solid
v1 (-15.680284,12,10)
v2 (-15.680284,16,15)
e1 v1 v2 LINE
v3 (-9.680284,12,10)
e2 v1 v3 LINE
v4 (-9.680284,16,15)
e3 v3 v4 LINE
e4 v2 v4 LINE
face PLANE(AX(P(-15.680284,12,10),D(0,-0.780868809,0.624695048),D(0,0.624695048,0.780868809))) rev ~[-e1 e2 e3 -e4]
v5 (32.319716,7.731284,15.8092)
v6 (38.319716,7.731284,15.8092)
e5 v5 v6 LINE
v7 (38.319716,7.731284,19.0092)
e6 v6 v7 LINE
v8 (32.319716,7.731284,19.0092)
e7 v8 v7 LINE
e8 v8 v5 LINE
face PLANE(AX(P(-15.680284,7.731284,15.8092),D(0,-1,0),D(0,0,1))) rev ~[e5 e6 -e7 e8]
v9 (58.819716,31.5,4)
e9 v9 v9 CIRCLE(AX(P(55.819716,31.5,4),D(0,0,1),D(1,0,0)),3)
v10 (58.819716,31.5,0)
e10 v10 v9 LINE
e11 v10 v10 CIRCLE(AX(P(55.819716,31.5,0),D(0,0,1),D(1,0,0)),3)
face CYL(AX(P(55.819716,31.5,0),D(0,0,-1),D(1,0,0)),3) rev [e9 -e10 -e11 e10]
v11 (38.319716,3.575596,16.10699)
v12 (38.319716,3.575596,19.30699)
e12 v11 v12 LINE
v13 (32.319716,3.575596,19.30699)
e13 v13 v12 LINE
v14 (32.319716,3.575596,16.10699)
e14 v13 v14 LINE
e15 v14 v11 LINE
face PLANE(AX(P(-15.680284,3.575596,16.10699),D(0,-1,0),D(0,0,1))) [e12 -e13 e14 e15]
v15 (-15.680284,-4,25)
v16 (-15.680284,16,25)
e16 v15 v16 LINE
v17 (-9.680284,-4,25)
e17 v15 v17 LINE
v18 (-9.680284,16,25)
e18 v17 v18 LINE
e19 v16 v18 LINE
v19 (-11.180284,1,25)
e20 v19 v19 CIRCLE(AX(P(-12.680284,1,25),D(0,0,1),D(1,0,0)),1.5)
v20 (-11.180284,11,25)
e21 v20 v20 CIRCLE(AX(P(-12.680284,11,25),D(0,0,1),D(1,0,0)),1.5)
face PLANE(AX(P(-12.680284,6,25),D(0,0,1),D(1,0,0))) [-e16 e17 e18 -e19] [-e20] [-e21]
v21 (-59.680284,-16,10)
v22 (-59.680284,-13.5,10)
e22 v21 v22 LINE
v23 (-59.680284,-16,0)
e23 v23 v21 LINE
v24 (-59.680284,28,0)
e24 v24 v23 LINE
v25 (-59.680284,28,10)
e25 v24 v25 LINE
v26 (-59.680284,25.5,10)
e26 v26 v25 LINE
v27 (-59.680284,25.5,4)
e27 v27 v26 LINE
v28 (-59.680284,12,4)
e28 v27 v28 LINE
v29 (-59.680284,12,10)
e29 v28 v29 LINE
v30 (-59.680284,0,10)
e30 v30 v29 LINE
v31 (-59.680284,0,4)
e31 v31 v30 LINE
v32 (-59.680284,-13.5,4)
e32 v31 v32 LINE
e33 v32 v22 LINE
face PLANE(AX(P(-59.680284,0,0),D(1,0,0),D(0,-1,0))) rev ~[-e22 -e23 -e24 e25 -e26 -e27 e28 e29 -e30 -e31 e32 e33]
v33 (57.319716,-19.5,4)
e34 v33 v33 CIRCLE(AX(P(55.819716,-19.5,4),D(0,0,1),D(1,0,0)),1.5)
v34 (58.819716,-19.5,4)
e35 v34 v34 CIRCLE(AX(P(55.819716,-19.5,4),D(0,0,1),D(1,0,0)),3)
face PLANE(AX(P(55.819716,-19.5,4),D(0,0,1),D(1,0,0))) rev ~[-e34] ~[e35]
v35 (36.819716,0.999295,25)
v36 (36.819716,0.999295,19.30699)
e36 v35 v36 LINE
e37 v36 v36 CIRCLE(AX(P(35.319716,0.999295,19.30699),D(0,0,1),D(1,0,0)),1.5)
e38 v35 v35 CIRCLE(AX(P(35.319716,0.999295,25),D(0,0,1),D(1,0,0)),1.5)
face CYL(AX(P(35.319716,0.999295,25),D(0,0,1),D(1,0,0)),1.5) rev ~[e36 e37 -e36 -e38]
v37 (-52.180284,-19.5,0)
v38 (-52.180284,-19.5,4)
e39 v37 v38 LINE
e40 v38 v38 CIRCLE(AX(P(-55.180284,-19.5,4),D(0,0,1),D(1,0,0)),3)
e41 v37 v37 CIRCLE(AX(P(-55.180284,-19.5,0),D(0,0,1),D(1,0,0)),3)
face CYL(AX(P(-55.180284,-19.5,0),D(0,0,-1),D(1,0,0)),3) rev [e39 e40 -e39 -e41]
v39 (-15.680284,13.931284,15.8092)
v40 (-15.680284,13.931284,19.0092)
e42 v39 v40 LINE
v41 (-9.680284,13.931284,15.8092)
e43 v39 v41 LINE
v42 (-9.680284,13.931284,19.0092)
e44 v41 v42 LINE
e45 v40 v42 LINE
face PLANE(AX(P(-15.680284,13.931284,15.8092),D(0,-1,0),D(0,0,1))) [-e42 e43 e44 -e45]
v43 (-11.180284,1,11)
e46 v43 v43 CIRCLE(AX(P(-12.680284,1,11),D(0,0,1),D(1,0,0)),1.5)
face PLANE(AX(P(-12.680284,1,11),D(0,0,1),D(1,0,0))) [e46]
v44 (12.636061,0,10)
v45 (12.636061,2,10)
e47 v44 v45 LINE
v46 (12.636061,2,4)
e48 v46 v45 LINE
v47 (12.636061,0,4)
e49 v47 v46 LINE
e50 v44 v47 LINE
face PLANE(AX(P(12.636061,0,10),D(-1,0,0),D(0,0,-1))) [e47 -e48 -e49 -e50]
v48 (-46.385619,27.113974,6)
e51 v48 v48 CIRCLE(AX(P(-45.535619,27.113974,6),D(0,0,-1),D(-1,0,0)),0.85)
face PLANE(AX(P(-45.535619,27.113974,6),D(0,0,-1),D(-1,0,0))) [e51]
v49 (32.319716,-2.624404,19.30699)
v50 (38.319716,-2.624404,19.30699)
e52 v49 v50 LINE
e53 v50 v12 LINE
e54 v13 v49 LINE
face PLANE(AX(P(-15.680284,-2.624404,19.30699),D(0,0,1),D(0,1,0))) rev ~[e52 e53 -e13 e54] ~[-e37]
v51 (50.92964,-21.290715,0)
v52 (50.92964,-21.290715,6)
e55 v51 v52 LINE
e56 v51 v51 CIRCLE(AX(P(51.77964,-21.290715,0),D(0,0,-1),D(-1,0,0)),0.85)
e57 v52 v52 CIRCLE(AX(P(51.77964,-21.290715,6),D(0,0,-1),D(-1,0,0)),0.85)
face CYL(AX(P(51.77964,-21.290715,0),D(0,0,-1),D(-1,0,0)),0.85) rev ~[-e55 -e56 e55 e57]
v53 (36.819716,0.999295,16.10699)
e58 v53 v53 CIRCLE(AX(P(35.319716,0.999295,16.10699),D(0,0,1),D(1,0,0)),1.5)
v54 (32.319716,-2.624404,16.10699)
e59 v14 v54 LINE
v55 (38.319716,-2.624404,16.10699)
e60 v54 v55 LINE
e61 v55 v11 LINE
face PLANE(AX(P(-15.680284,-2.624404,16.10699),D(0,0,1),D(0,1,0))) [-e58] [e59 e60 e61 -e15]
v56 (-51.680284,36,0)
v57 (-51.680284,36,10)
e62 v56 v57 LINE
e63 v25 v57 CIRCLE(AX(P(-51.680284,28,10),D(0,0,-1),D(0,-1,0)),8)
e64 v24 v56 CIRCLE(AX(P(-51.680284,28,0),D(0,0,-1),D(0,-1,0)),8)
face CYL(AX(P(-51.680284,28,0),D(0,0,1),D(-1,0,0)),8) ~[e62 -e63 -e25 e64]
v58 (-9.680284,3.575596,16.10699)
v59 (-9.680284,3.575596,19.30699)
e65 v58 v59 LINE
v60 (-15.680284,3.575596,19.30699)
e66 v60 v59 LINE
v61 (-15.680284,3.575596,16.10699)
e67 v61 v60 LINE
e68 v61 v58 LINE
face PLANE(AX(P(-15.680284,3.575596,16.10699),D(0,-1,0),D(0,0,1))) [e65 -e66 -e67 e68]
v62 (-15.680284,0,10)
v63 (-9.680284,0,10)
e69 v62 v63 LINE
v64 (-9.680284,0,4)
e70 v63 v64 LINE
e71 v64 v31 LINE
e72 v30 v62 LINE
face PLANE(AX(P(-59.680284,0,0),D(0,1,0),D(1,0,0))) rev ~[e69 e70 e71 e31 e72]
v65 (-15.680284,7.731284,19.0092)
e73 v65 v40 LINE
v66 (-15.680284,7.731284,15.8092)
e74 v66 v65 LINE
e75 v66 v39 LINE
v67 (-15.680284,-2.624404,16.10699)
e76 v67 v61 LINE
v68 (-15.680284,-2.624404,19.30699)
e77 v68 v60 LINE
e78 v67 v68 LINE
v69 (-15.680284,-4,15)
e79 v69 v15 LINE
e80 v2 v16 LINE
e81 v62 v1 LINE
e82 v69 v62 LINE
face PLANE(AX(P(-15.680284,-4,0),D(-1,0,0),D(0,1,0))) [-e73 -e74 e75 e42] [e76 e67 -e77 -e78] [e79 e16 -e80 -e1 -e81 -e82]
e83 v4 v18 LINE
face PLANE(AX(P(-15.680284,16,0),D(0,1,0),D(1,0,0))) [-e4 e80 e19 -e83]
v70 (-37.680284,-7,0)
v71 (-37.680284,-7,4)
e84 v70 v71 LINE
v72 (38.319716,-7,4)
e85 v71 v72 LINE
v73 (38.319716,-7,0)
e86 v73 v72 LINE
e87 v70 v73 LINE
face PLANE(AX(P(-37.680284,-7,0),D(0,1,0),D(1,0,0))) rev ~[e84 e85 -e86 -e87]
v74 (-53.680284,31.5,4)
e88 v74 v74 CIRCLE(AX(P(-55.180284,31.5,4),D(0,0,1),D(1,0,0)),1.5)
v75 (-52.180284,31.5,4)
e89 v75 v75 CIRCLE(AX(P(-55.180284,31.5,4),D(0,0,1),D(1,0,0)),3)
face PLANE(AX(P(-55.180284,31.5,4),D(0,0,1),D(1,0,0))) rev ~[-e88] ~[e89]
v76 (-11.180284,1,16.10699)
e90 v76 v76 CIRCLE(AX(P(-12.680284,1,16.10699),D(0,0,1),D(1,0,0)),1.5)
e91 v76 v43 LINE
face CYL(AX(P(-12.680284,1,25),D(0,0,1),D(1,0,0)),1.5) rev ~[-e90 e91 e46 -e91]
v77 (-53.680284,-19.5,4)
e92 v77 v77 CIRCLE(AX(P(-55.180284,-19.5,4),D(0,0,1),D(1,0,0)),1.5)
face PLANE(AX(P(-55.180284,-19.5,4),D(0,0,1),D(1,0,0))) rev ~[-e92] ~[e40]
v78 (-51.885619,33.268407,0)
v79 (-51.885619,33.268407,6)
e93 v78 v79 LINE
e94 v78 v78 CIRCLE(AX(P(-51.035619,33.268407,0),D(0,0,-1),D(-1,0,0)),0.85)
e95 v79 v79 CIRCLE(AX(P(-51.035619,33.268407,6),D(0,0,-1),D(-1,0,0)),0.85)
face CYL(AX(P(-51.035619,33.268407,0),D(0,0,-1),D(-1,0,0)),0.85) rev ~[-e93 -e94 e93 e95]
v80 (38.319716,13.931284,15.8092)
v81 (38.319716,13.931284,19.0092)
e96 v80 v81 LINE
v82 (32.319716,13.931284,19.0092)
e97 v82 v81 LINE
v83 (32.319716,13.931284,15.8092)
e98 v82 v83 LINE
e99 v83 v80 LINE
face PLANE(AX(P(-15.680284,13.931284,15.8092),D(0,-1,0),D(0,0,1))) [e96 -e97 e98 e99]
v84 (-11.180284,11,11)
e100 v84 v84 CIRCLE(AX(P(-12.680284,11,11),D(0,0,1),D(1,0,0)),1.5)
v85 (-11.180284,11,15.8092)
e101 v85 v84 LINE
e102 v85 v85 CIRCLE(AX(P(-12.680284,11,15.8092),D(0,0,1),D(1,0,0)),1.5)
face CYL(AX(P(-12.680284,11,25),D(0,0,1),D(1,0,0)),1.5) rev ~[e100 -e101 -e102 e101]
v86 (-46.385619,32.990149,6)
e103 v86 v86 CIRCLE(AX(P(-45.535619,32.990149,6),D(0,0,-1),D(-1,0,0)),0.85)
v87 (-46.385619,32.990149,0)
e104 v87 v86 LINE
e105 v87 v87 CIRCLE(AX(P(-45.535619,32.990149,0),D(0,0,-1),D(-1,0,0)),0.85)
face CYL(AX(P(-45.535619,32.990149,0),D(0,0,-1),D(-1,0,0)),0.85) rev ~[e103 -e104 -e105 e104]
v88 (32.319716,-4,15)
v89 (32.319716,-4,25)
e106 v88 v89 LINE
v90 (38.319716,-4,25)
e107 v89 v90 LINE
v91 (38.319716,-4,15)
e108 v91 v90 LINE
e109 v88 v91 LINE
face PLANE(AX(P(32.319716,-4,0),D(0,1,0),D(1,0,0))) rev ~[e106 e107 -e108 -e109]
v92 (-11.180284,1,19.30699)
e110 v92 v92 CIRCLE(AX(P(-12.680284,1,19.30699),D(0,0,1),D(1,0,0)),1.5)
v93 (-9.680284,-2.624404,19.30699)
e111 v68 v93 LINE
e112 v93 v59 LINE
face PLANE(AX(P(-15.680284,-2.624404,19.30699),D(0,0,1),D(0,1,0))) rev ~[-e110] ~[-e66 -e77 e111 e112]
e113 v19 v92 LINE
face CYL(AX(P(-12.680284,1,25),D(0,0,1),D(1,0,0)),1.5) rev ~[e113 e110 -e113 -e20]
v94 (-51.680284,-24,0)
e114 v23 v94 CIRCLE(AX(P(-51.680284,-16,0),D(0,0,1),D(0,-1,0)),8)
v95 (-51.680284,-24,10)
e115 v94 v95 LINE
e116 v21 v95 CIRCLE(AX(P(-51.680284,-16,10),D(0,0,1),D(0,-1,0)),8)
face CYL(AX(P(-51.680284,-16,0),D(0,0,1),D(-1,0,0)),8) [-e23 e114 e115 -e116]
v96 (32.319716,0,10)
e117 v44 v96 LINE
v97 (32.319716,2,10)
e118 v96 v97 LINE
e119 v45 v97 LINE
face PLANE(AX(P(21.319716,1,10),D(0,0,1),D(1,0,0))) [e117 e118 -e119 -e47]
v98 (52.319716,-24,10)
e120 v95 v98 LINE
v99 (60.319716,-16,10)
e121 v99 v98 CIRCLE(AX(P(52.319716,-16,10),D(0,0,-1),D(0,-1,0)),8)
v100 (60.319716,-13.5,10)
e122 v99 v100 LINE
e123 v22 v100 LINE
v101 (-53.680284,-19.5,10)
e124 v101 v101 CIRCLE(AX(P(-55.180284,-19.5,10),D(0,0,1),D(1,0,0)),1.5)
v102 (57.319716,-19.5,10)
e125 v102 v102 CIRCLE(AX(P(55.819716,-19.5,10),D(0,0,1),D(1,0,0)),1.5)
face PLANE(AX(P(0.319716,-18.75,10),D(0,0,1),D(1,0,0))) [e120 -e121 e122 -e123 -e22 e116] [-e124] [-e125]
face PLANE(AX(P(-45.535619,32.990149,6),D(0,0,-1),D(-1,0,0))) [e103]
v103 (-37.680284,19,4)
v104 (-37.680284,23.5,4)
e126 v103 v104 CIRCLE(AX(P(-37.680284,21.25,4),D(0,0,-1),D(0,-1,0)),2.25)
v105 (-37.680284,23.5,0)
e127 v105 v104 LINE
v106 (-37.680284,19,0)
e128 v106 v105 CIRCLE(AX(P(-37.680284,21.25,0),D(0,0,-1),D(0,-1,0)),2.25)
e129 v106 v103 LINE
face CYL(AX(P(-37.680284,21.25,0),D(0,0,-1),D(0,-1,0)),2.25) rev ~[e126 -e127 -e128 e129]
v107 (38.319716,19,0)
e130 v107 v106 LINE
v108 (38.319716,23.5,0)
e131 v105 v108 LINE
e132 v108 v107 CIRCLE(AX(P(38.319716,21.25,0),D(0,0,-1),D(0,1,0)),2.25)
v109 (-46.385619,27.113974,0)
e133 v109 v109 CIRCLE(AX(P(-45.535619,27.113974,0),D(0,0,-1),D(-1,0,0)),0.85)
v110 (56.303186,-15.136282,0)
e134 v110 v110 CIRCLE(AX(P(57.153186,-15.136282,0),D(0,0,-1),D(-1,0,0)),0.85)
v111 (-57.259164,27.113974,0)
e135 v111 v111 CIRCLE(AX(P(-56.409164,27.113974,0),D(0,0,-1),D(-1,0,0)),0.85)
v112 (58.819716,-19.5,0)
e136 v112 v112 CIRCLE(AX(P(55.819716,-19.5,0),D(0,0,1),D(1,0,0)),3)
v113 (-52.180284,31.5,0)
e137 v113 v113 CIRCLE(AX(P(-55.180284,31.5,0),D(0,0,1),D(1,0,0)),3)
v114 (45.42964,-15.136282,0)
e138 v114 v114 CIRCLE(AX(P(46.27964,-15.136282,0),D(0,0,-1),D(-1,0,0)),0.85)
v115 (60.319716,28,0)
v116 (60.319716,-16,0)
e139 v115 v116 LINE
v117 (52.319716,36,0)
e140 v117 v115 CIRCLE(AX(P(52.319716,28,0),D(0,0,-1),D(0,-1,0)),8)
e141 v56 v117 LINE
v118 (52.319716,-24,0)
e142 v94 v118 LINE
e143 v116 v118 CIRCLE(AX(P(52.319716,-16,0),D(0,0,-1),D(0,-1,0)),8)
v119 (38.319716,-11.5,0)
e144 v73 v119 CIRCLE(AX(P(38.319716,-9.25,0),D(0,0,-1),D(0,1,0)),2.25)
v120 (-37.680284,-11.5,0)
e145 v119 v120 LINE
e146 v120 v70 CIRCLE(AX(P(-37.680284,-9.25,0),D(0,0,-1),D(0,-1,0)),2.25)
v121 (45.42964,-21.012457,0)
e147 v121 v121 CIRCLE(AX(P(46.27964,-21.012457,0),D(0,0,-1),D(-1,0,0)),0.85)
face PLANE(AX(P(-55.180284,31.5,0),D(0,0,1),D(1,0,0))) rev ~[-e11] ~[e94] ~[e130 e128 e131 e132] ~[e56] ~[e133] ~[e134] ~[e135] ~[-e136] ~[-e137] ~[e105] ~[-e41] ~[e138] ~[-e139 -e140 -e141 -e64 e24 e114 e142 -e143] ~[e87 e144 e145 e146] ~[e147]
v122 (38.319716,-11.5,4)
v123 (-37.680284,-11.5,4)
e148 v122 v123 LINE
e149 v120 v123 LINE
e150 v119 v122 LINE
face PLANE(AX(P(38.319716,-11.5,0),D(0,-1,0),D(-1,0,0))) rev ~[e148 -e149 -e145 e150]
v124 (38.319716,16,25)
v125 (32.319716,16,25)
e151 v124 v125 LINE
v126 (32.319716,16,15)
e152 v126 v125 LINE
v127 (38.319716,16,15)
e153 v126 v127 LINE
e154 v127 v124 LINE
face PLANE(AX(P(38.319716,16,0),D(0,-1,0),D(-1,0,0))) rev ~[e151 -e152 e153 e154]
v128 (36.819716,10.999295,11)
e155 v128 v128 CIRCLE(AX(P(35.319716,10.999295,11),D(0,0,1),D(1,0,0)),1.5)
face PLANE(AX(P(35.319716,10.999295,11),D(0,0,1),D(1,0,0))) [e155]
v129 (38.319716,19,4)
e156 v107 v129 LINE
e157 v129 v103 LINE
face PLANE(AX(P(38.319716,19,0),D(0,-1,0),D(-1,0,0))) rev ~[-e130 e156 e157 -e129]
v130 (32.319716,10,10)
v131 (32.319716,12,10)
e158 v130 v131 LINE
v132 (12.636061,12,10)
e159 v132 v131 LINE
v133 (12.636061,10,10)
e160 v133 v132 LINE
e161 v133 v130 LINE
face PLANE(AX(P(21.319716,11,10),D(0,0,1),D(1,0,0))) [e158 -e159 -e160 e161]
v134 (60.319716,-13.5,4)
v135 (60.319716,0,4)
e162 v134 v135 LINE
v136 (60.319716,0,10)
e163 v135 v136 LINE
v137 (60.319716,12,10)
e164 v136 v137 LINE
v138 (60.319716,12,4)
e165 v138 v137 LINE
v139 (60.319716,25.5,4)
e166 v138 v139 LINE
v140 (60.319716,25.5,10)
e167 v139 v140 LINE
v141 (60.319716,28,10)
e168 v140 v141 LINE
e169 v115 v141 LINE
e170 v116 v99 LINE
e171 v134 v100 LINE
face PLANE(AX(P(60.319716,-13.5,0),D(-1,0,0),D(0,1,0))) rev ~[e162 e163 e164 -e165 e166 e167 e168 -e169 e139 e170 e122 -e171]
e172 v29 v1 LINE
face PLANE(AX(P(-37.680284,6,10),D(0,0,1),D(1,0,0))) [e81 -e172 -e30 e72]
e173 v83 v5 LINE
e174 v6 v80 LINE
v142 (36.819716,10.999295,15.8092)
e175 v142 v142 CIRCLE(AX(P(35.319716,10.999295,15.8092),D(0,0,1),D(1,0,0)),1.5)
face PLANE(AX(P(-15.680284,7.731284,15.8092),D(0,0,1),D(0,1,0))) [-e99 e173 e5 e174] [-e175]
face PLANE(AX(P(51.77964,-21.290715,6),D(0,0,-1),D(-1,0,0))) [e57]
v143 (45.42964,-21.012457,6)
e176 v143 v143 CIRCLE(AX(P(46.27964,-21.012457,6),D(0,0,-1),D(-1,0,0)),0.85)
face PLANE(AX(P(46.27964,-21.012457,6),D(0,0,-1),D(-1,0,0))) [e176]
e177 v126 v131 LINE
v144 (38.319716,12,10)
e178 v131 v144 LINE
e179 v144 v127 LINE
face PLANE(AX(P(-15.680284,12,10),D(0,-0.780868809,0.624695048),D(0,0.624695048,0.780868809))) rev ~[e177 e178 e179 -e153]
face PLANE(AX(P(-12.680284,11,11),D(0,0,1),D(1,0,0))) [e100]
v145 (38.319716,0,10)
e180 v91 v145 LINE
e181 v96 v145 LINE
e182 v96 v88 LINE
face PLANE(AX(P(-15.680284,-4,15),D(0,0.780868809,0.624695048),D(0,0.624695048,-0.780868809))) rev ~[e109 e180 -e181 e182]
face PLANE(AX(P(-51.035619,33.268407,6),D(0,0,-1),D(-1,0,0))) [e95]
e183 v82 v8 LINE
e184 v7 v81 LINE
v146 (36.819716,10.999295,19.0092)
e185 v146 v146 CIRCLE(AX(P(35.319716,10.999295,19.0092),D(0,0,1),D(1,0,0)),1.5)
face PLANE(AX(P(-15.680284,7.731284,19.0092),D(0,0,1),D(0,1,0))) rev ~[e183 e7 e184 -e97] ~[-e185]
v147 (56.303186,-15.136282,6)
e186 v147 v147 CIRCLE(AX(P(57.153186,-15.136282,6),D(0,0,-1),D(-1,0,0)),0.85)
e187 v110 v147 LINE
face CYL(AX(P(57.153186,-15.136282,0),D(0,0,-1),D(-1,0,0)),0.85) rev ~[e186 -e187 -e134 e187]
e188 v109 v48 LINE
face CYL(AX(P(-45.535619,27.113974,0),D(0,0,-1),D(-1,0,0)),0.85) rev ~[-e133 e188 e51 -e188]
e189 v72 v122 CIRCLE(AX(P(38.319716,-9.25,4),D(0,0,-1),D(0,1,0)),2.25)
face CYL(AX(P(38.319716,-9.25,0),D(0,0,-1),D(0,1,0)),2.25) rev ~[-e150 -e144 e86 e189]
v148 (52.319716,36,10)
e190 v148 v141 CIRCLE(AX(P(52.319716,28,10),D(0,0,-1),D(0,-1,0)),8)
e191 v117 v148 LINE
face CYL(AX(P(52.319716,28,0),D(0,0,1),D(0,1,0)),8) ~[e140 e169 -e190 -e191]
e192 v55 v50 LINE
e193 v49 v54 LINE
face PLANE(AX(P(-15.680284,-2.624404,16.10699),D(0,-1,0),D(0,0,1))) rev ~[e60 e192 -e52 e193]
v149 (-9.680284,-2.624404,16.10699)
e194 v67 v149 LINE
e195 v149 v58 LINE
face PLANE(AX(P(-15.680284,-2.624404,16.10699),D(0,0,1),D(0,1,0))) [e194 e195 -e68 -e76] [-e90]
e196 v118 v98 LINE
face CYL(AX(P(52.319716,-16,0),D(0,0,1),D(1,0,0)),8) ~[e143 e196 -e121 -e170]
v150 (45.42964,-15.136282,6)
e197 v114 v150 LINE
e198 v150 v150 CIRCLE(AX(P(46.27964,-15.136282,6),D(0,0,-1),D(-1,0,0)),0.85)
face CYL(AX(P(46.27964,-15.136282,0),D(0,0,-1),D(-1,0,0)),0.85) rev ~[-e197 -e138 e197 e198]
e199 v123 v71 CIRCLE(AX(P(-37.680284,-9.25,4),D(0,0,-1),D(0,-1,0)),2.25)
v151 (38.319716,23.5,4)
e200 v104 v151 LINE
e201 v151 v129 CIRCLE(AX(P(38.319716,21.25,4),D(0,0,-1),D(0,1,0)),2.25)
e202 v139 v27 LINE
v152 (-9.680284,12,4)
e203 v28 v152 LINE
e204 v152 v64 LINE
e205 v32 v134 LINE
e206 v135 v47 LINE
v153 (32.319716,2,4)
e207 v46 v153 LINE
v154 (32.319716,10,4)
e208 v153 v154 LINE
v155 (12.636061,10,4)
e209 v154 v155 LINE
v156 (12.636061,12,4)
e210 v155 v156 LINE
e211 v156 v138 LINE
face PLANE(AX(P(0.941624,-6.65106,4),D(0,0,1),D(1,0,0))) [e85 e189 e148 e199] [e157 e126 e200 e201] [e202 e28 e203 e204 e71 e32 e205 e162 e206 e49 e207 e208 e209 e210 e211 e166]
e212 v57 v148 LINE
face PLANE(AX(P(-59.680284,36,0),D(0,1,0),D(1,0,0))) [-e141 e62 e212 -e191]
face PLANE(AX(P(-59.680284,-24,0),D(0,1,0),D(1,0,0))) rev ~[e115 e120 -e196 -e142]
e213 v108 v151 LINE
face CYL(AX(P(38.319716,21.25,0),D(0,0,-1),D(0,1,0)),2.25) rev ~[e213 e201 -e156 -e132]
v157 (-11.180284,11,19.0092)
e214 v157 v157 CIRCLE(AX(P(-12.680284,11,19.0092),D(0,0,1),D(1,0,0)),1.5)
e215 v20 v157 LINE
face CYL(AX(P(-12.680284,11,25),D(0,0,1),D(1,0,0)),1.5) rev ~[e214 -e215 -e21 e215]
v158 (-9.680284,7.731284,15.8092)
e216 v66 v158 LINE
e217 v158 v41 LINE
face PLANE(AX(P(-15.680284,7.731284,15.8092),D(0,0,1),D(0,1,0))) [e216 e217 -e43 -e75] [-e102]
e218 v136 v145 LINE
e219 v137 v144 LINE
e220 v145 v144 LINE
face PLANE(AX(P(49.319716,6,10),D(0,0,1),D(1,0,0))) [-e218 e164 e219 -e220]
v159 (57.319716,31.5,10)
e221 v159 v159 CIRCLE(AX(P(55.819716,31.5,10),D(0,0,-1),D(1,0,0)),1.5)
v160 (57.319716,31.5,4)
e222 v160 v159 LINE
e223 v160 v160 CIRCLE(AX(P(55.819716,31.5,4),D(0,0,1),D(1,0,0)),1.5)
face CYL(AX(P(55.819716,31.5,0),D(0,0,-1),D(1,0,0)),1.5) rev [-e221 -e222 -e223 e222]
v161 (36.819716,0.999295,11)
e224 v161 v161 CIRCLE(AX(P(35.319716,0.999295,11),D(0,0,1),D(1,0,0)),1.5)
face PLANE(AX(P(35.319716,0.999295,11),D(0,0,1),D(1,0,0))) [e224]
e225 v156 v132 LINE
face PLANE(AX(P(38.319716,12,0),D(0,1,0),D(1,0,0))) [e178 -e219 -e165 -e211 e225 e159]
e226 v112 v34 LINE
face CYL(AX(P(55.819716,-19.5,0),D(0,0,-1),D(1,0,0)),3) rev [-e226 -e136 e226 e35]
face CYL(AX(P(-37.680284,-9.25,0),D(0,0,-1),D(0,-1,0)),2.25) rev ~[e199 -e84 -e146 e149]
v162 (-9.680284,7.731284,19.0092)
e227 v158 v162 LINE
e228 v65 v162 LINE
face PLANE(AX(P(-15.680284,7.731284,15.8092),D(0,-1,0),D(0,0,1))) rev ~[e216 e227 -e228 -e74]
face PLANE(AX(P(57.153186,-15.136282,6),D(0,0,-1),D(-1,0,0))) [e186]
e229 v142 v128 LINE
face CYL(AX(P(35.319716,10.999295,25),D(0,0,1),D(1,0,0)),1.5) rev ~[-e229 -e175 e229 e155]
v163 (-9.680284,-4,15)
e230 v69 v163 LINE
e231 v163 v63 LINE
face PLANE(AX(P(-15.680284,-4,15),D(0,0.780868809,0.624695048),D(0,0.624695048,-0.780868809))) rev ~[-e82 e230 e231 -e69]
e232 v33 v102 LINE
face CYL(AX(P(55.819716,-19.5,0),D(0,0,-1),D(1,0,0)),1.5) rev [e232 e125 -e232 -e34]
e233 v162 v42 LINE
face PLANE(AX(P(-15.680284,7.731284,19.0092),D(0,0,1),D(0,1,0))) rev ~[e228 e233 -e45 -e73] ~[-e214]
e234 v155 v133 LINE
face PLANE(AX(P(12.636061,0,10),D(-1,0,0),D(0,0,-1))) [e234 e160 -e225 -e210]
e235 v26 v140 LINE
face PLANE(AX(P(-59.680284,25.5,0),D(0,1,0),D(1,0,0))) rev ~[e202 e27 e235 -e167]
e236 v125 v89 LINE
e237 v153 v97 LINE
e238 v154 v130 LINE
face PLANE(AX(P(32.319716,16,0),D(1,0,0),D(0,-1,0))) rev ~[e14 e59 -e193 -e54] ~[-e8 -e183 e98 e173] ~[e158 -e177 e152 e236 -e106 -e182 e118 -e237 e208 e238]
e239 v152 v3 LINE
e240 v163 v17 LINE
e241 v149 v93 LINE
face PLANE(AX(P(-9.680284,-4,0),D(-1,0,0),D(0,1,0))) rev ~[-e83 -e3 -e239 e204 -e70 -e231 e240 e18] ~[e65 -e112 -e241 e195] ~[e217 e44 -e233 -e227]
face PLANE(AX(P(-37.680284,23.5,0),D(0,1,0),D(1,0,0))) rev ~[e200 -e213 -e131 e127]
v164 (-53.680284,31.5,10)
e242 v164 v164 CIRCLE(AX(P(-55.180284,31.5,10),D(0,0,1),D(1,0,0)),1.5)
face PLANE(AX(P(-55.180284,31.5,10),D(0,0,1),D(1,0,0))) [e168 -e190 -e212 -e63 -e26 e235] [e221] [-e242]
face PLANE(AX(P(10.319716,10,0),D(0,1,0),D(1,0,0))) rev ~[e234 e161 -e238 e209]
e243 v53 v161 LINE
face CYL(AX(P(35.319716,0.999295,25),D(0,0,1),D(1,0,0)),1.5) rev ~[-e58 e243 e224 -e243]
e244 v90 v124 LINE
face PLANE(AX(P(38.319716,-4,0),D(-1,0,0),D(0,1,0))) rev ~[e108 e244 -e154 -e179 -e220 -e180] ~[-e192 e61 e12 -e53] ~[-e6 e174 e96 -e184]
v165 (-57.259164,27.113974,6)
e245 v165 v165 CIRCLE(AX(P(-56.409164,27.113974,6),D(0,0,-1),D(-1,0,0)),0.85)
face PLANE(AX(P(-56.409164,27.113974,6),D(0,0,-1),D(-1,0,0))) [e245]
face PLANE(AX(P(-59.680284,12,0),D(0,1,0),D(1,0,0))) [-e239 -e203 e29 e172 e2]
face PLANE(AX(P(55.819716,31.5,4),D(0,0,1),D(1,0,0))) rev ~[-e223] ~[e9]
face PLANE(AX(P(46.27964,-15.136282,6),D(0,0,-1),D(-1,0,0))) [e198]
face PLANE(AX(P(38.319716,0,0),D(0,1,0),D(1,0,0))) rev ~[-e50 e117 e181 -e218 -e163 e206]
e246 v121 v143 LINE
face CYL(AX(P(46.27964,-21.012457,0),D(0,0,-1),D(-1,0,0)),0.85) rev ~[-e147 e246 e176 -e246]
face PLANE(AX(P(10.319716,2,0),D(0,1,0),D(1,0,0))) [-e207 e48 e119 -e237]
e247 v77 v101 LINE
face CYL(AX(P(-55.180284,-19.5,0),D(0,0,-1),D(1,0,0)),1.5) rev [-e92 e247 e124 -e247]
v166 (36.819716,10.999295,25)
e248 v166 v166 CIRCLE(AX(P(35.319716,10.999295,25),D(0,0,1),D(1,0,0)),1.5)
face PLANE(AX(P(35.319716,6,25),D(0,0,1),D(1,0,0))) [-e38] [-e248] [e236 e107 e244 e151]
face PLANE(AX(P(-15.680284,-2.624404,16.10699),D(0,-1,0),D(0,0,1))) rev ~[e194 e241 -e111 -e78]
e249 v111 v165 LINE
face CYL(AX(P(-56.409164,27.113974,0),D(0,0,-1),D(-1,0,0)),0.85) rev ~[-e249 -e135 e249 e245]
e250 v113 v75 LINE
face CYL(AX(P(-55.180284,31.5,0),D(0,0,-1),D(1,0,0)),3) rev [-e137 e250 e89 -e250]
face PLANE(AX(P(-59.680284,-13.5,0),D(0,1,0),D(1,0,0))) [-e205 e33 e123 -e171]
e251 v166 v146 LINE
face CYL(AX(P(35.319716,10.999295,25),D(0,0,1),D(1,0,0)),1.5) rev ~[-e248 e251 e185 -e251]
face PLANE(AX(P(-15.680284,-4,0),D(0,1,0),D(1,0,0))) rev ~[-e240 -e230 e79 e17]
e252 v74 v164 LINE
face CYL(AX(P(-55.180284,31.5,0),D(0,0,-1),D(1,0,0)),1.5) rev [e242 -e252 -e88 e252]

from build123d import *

# Parameters (mm, degrees)
SKETCH1_W             = 120
SKETCH1_H             = 10.5
SKETCH1_R             = 3
BOSS_EXTRUDE1_DEPTH   = 10
SKETCH1_W_2           = 44
SKETCH1_H_2           = 12
BOSS_EXTRUDE1_2_DEPTH = 10
SKETCH1_W_3           = 22
BOSS_EXTRUDE1_3_DEPTH = 10
BOSS_EXTRUDE1_4_DEPTH = 10
SKETCH1_H_3           = 2
BOSS_EXTRUDE1_5_DEPTH = 10
BOSS_EXTRUDE1_6_DEPTH = 10
SKETCH1_5_W           = 6
SKETCH1_5_H           = 20
BOSS_EXTRUDE2_DEPTH   = 25
BOSS_EXTRUDE3_DEPTH   = 4
SKETCH1_8_R           = 3
SKETCH1_8_R_2         = 1.5
BOSS_EXTRUDE4_DEPTH   = 10
SKETCH1_10_R          = 3
SKETCH1_10_R_2        = 1.5
CUT_EXTRUDE1_DEPTH    = 4
SKETCH3_R             = 1.5
CUT_EXTRUDE4_DEPTH    = 14
SKETCH4_R             = 1.5
CUT_EXTRUDE5_DEPTH    = 14
CUT_EXTRUDE6_DEPTH    = 59
SKETCH5_4_W           = 3.2
SKETCH5_4_H           = 6.2
CUT_EXTRUDE8_DEPTH    = 59
SKETCH1_11_R          = 1.5
CUT_EXTRUDE9_DEPTH    = 59
SKETCH6_W             = 2.316345527
SKETCH6_H             = 6
CUT_EXTRUDE10_DEPTH   = 13
FILLET1_R             = 8
SKETCH7_R             = 0.85
CUT_EXTRUDE13_DEPTH   = 6


with BuildPart() as part:
    # Sketch1 → Boss-Extrude1 (new body)
    with BuildSketch(Plane.XY):
        with Locations((0.319715808, 30.75)):
            Rectangle(SKETCH1_W, SKETCH1_H)
        with Locations((-55.180284192, 31.5)):
            Circle(SKETCH1_R, mode=Mode.SUBTRACT)
        with Locations((55.819715808, 31.5)):
            Circle(SKETCH1_R, mode=Mode.SUBTRACT)
    extrude(amount=BOSS_EXTRUDE1_DEPTH)



with BuildPart() as body_2:
    # Sketch1 → Boss-Extrude1 2 (new body)
    with BuildSketch(Plane.XY):
        with Locations((-37.680284192, 6)):
            Rectangle(SKETCH1_W_2, SKETCH1_H_2)
    extrude(amount=BOSS_EXTRUDE1_2_DEPTH)



with BuildPart() as body_3:
    # Sketch1 → Boss-Extrude1 3 (new body)
    with BuildSketch(Plane.XY):
        with Locations((49.319715808, 6)):
            Rectangle(SKETCH1_W_3, SKETCH1_H_2)
    extrude(amount=BOSS_EXTRUDE1_3_DEPTH)


with BuildPart() as body_4:
    # Sketch1 → Boss-Extrude1 4 (new body)
    with BuildSketch(Plane.XY):
        with Locations((0.319715808, -18.75)):
            Rectangle(SKETCH1_W, SKETCH1_H)
        with Locations((-55.180284192, -19.5)):
            Circle(SKETCH1_R, mode=Mode.SUBTRACT)
        with Locations((55.819715808, -19.5)):
            Circle(SKETCH1_R, mode=Mode.SUBTRACT)
    extrude(amount=BOSS_EXTRUDE1_4_DEPTH)


with BuildPart() as body_5:
    # Sketch1 → Boss-Extrude1 5 (new body)
    with BuildSketch(Plane.XY):
        with Locations((21.319715808, 11)):
            Rectangle(SKETCH1_W_3, SKETCH1_H_3)
    extrude(amount=BOSS_EXTRUDE1_5_DEPTH)


with BuildPart() as body_6:
    # Sketch1 → Boss-Extrude1 6 (new body)
    with BuildSketch(Plane.XY):
        with Locations((21.319715808, 1)):
            Rectangle(SKETCH1_W_3, SKETCH1_H_3)
    extrude(amount=BOSS_EXTRUDE1_6_DEPTH)


with BuildPart() as body_2_1:
    add(body_2.part)

    add(body_3.part)  # Boss-Extrude2 merges body 3

    add(body_5.part)  # Boss-Extrude2 merges body 5

    add(body_6.part)  # Boss-Extrude2 merges body 6
    # Sketch1<5> → Boss-Extrude2 (add)
    with BuildSketch(Plane.XY):
        with Locations((-12.680284192, 6)):
            Rectangle(SKETCH1_5_W, SKETCH1_5_H)
        with Locations((35.319715808, 6)):
            Rectangle(SKETCH1_5_W, SKETCH1_5_H)
    extrude(amount=BOSS_EXTRUDE2_DEPTH)


with BuildPart() as part_1:
    add(part.part)

    add(body_2_1.part)  # Boss-Extrude3 merges body 2

    add(body_4.part)  # Boss-Extrude3 merges body 4
    # Sketch1<6> → Boss-Extrude3 (add)
    with BuildSketch(Plane.XY):
        Polygon((60.319715808, 25.5), (-59.680284192, 25.5), (-59.680284192, 12), (-15.680284192, 12), (-15.680284192, 16), (-9.680284192, 16), (-9.680284192, -4), (-15.680284192, -4), (-15.680284192, 0), (-59.680284192, 0), (-59.680284192, -13.5), (60.319715808, -13.5), (60.319715808, 0), (38.319715808, 0), (38.319715808, -4), (32.319715808, -4), (32.319715808, 0), (10.319715808, 0), (10.319715808, 2), (32.319715808, 2), (32.319715808, 10), (10.319715808, 10), (10.319715808, 12), (32.319715808, 12), (32.319715808, 16), (38.319715808, 16), (38.319715808, 12), (60.319715808, 12), align=None)
        with BuildLine():
            ThreePointArc((-37.680284192, 19), (-39.930284192, 21.25), (-37.680284192, 23.5))
            Line((-37.680284192, 23.5), (38.319715808, 23.5))
            ThreePointArc((38.319715808, 23.5), (40.569715808, 21.25), (38.319715808, 19))
            Line((38.319715808, 19), (-37.680284192, 19))
        make_face(mode=Mode.SUBTRACT)
        with BuildLine():
            ThreePointArc((-37.680284192, -11.5), (-39.930284192, -9.25), (-37.680284192, -7))
            Line((-37.680284192, -7), (38.319715808, -7))
            ThreePointArc((38.319715808, -7), (40.569715808, -9.25), (38.319715808, -11.5))
            Line((38.319715808, -11.5), (-37.680284192, -11.5))
        make_face(mode=Mode.SUBTRACT)
    extrude(amount=BOSS_EXTRUDE3_DEPTH)

    # Sketch1<8> → Boss-Extrude4 (add)
    # profile 1 of 4: a face of its own
    with BuildSketch(Plane.XY):
        with Locations((55.819715808, 31.5)):
            Circle(SKETCH1_8_R)
    # profile 2 of 4: a face of its own
    with BuildSketch(Plane.XY):
        with Locations((55.819715808, -19.5)):
            Circle(SKETCH1_8_R)
        with Locations((55.819715808, -19.5)):
            Circle(SKETCH1_8_R_2, mode=Mode.SUBTRACT)
    # profile 3 of 4: a face of its own
    with BuildSketch(Plane.XY):
        with Locations((-55.180284192, 31.5)):
            Circle(SKETCH1_8_R)
        with Locations((-55.180284192, 31.5)):
            Circle(SKETCH1_8_R_2, mode=Mode.SUBTRACT)
    # profile 4 of 4: a face of its own
    with BuildSketch(Plane.XY):
        with Locations((-55.180284192, -19.5)):
            Circle(SKETCH1_8_R)
        with Locations((-55.180284192, -19.5)):
            Circle(SKETCH1_8_R_2, mode=Mode.SUBTRACT)
    extrude(amount=BOSS_EXTRUDE4_DEPTH)

    # Sketch1<10> → Cut-Extrude1 (cut)
    # profile 1 of 4: a face of its own
    with BuildSketch(Plane.XY):
        with Locations((55.819715808, -19.5)):
            Circle(SKETCH1_10_R)
        with Locations((55.819715808, -19.5)):
            Circle(SKETCH1_10_R_2, mode=Mode.SUBTRACT)
    # profile 2 of 4: a face of its own
    with BuildSketch(Plane.XY):
        with Locations((-55.180284192, 31.5)):
            Circle(SKETCH1_10_R)
        with Locations((-55.180284192, 31.5)):
            Circle(SKETCH1_10_R_2, mode=Mode.SUBTRACT)
    # profile 3 of 4: a face of its own
    with BuildSketch(Plane.XY):
        with Locations((-55.180284192, -19.5)):
            Circle(SKETCH1_10_R)
        with Locations((-55.180284192, -19.5)):
            Circle(SKETCH1_10_R_2, mode=Mode.SUBTRACT)
    # profile 4 of 4: a face of its own
    with BuildSketch(Plane.XY):
        with Locations((55.819715808, 31.5)):
            Circle(SKETCH1_10_R)
        with Locations((55.819715808, 31.5)):
            Circle(SKETCH1_10_R_2, mode=Mode.SUBTRACT)
    extrude(amount=CUT_EXTRUDE1_DEPTH, mode=Mode.SUBTRACT)

    # Sketch3 → Cut-Extrude4 (cut)
    with BuildSketch(Plane.XY.offset(25)):
        with Locations((-12.680284192, 11)):
            Circle(SKETCH3_R)
        with Locations((-12.680284192, 1)):
            Circle(SKETCH3_R)
    extrude(amount=-CUT_EXTRUDE4_DEPTH, mode=Mode.SUBTRACT)

    # Sketch4 → Cut-Extrude5 (cut)
    with BuildSketch(Plane.XY.offset(25)):
        with Locations((35.319715808, 10.999295379)):
            Circle(SKETCH4_R)
        with Locations((35.319715808, 0.999295379)):
            Circle(SKETCH4_R)
    extrude(amount=-CUT_EXTRUDE5_DEPTH, mode=Mode.SUBTRACT)

    # Sketch5 → Cut-Extrude6 (cut)
    with BuildSketch(Plane.ZY.offset(15.680284192)):
        Polygon((10, 12), (15, 16), (4, 16), (4, 12), align=None)
        Polygon((4, -4), (15, -4), (10, 0), (4, 0), align=None)
    extrude(amount=-CUT_EXTRUDE6_DEPTH, mode=Mode.SUBTRACT)

    # Sketch5<4> → Cut-Extrude8 (cut)
    with BuildSketch(Plane.ZY.offset(15.680284192)):
        with Locations((17.409200428, 10.831284061)):
            Rectangle(SKETCH5_4_W, SKETCH5_4_H)
        with Locations((17.706989835, 0.475595868)):
            Rectangle(SKETCH5_4_W, SKETCH5_4_H)
    extrude(amount=-CUT_EXTRUDE8_DEPTH, mode=Mode.SUBTRACT)

    # Sketch1<11> → Cut-Extrude9 (cut)
    with BuildSketch(Plane.XY):
        with Locations((55.819715808, 31.5)):
            Circle(SKETCH1_11_R)
    extrude(amount=CUT_EXTRUDE9_DEPTH, mode=Mode.SUBTRACT)

    # Sketch6 → Cut-Extrude10 (cut)
    with BuildSketch(Plane(origin=(0, 0, 0), x_dir=(-1, 0, 0), z_dir=(0, -1, 0))):
        with Locations((-11.477888571, -7)):
            Rectangle(SKETCH6_W, SKETCH6_H)
    extrude(amount=-CUT_EXTRUDE10_DEPTH, mode=Mode.SUBTRACT)

    # Fillet1
    fillet1_edges = [part_1.edges().sort_by_distance(p)[0] for p in [
        (60.319715808, 36, 5),
        (60.319715808, -24, 5),
        (-59.680284192, 36, 5),
        (-59.680284192, -24, 5),
    ]]
    fillet(fillet1_edges, radius=FILLET1_R)

    # Sketch7 → Cut-Extrude13 (cut)
    with BuildSketch(Plane(origin=(0, 0, 0), x_dir=(-1, 0, 0), z_dir=(0, 0, -1))):
        with Locations((51.035618514, 33.268406719)):
            Circle(SKETCH7_R)
        with Locations((45.535618514, 32.990148628)):
            Circle(SKETCH7_R)
        with Locations((56.409164496, 27.113974119)):
            Circle(SKETCH7_R)
        with Locations((-46.279640328, -21.012456623)):
            Circle(SKETCH7_R)
        with Locations((-51.779640328, -21.290714713)):
            Circle(SKETCH7_R)
        with Locations((-57.153186309, -15.136282114)):
            Circle(SKETCH7_R)
        with Locations((45.535618514, 27.113974119)):
            Circle(SKETCH7_R)
        with Locations((-46.279640328, -15.136282114)):
            Circle(SKETCH7_R)
    extrude(amount=-CUT_EXTRUDE13_DEPTH, mode=Mode.SUBTRACT)


solid = part_1.part
